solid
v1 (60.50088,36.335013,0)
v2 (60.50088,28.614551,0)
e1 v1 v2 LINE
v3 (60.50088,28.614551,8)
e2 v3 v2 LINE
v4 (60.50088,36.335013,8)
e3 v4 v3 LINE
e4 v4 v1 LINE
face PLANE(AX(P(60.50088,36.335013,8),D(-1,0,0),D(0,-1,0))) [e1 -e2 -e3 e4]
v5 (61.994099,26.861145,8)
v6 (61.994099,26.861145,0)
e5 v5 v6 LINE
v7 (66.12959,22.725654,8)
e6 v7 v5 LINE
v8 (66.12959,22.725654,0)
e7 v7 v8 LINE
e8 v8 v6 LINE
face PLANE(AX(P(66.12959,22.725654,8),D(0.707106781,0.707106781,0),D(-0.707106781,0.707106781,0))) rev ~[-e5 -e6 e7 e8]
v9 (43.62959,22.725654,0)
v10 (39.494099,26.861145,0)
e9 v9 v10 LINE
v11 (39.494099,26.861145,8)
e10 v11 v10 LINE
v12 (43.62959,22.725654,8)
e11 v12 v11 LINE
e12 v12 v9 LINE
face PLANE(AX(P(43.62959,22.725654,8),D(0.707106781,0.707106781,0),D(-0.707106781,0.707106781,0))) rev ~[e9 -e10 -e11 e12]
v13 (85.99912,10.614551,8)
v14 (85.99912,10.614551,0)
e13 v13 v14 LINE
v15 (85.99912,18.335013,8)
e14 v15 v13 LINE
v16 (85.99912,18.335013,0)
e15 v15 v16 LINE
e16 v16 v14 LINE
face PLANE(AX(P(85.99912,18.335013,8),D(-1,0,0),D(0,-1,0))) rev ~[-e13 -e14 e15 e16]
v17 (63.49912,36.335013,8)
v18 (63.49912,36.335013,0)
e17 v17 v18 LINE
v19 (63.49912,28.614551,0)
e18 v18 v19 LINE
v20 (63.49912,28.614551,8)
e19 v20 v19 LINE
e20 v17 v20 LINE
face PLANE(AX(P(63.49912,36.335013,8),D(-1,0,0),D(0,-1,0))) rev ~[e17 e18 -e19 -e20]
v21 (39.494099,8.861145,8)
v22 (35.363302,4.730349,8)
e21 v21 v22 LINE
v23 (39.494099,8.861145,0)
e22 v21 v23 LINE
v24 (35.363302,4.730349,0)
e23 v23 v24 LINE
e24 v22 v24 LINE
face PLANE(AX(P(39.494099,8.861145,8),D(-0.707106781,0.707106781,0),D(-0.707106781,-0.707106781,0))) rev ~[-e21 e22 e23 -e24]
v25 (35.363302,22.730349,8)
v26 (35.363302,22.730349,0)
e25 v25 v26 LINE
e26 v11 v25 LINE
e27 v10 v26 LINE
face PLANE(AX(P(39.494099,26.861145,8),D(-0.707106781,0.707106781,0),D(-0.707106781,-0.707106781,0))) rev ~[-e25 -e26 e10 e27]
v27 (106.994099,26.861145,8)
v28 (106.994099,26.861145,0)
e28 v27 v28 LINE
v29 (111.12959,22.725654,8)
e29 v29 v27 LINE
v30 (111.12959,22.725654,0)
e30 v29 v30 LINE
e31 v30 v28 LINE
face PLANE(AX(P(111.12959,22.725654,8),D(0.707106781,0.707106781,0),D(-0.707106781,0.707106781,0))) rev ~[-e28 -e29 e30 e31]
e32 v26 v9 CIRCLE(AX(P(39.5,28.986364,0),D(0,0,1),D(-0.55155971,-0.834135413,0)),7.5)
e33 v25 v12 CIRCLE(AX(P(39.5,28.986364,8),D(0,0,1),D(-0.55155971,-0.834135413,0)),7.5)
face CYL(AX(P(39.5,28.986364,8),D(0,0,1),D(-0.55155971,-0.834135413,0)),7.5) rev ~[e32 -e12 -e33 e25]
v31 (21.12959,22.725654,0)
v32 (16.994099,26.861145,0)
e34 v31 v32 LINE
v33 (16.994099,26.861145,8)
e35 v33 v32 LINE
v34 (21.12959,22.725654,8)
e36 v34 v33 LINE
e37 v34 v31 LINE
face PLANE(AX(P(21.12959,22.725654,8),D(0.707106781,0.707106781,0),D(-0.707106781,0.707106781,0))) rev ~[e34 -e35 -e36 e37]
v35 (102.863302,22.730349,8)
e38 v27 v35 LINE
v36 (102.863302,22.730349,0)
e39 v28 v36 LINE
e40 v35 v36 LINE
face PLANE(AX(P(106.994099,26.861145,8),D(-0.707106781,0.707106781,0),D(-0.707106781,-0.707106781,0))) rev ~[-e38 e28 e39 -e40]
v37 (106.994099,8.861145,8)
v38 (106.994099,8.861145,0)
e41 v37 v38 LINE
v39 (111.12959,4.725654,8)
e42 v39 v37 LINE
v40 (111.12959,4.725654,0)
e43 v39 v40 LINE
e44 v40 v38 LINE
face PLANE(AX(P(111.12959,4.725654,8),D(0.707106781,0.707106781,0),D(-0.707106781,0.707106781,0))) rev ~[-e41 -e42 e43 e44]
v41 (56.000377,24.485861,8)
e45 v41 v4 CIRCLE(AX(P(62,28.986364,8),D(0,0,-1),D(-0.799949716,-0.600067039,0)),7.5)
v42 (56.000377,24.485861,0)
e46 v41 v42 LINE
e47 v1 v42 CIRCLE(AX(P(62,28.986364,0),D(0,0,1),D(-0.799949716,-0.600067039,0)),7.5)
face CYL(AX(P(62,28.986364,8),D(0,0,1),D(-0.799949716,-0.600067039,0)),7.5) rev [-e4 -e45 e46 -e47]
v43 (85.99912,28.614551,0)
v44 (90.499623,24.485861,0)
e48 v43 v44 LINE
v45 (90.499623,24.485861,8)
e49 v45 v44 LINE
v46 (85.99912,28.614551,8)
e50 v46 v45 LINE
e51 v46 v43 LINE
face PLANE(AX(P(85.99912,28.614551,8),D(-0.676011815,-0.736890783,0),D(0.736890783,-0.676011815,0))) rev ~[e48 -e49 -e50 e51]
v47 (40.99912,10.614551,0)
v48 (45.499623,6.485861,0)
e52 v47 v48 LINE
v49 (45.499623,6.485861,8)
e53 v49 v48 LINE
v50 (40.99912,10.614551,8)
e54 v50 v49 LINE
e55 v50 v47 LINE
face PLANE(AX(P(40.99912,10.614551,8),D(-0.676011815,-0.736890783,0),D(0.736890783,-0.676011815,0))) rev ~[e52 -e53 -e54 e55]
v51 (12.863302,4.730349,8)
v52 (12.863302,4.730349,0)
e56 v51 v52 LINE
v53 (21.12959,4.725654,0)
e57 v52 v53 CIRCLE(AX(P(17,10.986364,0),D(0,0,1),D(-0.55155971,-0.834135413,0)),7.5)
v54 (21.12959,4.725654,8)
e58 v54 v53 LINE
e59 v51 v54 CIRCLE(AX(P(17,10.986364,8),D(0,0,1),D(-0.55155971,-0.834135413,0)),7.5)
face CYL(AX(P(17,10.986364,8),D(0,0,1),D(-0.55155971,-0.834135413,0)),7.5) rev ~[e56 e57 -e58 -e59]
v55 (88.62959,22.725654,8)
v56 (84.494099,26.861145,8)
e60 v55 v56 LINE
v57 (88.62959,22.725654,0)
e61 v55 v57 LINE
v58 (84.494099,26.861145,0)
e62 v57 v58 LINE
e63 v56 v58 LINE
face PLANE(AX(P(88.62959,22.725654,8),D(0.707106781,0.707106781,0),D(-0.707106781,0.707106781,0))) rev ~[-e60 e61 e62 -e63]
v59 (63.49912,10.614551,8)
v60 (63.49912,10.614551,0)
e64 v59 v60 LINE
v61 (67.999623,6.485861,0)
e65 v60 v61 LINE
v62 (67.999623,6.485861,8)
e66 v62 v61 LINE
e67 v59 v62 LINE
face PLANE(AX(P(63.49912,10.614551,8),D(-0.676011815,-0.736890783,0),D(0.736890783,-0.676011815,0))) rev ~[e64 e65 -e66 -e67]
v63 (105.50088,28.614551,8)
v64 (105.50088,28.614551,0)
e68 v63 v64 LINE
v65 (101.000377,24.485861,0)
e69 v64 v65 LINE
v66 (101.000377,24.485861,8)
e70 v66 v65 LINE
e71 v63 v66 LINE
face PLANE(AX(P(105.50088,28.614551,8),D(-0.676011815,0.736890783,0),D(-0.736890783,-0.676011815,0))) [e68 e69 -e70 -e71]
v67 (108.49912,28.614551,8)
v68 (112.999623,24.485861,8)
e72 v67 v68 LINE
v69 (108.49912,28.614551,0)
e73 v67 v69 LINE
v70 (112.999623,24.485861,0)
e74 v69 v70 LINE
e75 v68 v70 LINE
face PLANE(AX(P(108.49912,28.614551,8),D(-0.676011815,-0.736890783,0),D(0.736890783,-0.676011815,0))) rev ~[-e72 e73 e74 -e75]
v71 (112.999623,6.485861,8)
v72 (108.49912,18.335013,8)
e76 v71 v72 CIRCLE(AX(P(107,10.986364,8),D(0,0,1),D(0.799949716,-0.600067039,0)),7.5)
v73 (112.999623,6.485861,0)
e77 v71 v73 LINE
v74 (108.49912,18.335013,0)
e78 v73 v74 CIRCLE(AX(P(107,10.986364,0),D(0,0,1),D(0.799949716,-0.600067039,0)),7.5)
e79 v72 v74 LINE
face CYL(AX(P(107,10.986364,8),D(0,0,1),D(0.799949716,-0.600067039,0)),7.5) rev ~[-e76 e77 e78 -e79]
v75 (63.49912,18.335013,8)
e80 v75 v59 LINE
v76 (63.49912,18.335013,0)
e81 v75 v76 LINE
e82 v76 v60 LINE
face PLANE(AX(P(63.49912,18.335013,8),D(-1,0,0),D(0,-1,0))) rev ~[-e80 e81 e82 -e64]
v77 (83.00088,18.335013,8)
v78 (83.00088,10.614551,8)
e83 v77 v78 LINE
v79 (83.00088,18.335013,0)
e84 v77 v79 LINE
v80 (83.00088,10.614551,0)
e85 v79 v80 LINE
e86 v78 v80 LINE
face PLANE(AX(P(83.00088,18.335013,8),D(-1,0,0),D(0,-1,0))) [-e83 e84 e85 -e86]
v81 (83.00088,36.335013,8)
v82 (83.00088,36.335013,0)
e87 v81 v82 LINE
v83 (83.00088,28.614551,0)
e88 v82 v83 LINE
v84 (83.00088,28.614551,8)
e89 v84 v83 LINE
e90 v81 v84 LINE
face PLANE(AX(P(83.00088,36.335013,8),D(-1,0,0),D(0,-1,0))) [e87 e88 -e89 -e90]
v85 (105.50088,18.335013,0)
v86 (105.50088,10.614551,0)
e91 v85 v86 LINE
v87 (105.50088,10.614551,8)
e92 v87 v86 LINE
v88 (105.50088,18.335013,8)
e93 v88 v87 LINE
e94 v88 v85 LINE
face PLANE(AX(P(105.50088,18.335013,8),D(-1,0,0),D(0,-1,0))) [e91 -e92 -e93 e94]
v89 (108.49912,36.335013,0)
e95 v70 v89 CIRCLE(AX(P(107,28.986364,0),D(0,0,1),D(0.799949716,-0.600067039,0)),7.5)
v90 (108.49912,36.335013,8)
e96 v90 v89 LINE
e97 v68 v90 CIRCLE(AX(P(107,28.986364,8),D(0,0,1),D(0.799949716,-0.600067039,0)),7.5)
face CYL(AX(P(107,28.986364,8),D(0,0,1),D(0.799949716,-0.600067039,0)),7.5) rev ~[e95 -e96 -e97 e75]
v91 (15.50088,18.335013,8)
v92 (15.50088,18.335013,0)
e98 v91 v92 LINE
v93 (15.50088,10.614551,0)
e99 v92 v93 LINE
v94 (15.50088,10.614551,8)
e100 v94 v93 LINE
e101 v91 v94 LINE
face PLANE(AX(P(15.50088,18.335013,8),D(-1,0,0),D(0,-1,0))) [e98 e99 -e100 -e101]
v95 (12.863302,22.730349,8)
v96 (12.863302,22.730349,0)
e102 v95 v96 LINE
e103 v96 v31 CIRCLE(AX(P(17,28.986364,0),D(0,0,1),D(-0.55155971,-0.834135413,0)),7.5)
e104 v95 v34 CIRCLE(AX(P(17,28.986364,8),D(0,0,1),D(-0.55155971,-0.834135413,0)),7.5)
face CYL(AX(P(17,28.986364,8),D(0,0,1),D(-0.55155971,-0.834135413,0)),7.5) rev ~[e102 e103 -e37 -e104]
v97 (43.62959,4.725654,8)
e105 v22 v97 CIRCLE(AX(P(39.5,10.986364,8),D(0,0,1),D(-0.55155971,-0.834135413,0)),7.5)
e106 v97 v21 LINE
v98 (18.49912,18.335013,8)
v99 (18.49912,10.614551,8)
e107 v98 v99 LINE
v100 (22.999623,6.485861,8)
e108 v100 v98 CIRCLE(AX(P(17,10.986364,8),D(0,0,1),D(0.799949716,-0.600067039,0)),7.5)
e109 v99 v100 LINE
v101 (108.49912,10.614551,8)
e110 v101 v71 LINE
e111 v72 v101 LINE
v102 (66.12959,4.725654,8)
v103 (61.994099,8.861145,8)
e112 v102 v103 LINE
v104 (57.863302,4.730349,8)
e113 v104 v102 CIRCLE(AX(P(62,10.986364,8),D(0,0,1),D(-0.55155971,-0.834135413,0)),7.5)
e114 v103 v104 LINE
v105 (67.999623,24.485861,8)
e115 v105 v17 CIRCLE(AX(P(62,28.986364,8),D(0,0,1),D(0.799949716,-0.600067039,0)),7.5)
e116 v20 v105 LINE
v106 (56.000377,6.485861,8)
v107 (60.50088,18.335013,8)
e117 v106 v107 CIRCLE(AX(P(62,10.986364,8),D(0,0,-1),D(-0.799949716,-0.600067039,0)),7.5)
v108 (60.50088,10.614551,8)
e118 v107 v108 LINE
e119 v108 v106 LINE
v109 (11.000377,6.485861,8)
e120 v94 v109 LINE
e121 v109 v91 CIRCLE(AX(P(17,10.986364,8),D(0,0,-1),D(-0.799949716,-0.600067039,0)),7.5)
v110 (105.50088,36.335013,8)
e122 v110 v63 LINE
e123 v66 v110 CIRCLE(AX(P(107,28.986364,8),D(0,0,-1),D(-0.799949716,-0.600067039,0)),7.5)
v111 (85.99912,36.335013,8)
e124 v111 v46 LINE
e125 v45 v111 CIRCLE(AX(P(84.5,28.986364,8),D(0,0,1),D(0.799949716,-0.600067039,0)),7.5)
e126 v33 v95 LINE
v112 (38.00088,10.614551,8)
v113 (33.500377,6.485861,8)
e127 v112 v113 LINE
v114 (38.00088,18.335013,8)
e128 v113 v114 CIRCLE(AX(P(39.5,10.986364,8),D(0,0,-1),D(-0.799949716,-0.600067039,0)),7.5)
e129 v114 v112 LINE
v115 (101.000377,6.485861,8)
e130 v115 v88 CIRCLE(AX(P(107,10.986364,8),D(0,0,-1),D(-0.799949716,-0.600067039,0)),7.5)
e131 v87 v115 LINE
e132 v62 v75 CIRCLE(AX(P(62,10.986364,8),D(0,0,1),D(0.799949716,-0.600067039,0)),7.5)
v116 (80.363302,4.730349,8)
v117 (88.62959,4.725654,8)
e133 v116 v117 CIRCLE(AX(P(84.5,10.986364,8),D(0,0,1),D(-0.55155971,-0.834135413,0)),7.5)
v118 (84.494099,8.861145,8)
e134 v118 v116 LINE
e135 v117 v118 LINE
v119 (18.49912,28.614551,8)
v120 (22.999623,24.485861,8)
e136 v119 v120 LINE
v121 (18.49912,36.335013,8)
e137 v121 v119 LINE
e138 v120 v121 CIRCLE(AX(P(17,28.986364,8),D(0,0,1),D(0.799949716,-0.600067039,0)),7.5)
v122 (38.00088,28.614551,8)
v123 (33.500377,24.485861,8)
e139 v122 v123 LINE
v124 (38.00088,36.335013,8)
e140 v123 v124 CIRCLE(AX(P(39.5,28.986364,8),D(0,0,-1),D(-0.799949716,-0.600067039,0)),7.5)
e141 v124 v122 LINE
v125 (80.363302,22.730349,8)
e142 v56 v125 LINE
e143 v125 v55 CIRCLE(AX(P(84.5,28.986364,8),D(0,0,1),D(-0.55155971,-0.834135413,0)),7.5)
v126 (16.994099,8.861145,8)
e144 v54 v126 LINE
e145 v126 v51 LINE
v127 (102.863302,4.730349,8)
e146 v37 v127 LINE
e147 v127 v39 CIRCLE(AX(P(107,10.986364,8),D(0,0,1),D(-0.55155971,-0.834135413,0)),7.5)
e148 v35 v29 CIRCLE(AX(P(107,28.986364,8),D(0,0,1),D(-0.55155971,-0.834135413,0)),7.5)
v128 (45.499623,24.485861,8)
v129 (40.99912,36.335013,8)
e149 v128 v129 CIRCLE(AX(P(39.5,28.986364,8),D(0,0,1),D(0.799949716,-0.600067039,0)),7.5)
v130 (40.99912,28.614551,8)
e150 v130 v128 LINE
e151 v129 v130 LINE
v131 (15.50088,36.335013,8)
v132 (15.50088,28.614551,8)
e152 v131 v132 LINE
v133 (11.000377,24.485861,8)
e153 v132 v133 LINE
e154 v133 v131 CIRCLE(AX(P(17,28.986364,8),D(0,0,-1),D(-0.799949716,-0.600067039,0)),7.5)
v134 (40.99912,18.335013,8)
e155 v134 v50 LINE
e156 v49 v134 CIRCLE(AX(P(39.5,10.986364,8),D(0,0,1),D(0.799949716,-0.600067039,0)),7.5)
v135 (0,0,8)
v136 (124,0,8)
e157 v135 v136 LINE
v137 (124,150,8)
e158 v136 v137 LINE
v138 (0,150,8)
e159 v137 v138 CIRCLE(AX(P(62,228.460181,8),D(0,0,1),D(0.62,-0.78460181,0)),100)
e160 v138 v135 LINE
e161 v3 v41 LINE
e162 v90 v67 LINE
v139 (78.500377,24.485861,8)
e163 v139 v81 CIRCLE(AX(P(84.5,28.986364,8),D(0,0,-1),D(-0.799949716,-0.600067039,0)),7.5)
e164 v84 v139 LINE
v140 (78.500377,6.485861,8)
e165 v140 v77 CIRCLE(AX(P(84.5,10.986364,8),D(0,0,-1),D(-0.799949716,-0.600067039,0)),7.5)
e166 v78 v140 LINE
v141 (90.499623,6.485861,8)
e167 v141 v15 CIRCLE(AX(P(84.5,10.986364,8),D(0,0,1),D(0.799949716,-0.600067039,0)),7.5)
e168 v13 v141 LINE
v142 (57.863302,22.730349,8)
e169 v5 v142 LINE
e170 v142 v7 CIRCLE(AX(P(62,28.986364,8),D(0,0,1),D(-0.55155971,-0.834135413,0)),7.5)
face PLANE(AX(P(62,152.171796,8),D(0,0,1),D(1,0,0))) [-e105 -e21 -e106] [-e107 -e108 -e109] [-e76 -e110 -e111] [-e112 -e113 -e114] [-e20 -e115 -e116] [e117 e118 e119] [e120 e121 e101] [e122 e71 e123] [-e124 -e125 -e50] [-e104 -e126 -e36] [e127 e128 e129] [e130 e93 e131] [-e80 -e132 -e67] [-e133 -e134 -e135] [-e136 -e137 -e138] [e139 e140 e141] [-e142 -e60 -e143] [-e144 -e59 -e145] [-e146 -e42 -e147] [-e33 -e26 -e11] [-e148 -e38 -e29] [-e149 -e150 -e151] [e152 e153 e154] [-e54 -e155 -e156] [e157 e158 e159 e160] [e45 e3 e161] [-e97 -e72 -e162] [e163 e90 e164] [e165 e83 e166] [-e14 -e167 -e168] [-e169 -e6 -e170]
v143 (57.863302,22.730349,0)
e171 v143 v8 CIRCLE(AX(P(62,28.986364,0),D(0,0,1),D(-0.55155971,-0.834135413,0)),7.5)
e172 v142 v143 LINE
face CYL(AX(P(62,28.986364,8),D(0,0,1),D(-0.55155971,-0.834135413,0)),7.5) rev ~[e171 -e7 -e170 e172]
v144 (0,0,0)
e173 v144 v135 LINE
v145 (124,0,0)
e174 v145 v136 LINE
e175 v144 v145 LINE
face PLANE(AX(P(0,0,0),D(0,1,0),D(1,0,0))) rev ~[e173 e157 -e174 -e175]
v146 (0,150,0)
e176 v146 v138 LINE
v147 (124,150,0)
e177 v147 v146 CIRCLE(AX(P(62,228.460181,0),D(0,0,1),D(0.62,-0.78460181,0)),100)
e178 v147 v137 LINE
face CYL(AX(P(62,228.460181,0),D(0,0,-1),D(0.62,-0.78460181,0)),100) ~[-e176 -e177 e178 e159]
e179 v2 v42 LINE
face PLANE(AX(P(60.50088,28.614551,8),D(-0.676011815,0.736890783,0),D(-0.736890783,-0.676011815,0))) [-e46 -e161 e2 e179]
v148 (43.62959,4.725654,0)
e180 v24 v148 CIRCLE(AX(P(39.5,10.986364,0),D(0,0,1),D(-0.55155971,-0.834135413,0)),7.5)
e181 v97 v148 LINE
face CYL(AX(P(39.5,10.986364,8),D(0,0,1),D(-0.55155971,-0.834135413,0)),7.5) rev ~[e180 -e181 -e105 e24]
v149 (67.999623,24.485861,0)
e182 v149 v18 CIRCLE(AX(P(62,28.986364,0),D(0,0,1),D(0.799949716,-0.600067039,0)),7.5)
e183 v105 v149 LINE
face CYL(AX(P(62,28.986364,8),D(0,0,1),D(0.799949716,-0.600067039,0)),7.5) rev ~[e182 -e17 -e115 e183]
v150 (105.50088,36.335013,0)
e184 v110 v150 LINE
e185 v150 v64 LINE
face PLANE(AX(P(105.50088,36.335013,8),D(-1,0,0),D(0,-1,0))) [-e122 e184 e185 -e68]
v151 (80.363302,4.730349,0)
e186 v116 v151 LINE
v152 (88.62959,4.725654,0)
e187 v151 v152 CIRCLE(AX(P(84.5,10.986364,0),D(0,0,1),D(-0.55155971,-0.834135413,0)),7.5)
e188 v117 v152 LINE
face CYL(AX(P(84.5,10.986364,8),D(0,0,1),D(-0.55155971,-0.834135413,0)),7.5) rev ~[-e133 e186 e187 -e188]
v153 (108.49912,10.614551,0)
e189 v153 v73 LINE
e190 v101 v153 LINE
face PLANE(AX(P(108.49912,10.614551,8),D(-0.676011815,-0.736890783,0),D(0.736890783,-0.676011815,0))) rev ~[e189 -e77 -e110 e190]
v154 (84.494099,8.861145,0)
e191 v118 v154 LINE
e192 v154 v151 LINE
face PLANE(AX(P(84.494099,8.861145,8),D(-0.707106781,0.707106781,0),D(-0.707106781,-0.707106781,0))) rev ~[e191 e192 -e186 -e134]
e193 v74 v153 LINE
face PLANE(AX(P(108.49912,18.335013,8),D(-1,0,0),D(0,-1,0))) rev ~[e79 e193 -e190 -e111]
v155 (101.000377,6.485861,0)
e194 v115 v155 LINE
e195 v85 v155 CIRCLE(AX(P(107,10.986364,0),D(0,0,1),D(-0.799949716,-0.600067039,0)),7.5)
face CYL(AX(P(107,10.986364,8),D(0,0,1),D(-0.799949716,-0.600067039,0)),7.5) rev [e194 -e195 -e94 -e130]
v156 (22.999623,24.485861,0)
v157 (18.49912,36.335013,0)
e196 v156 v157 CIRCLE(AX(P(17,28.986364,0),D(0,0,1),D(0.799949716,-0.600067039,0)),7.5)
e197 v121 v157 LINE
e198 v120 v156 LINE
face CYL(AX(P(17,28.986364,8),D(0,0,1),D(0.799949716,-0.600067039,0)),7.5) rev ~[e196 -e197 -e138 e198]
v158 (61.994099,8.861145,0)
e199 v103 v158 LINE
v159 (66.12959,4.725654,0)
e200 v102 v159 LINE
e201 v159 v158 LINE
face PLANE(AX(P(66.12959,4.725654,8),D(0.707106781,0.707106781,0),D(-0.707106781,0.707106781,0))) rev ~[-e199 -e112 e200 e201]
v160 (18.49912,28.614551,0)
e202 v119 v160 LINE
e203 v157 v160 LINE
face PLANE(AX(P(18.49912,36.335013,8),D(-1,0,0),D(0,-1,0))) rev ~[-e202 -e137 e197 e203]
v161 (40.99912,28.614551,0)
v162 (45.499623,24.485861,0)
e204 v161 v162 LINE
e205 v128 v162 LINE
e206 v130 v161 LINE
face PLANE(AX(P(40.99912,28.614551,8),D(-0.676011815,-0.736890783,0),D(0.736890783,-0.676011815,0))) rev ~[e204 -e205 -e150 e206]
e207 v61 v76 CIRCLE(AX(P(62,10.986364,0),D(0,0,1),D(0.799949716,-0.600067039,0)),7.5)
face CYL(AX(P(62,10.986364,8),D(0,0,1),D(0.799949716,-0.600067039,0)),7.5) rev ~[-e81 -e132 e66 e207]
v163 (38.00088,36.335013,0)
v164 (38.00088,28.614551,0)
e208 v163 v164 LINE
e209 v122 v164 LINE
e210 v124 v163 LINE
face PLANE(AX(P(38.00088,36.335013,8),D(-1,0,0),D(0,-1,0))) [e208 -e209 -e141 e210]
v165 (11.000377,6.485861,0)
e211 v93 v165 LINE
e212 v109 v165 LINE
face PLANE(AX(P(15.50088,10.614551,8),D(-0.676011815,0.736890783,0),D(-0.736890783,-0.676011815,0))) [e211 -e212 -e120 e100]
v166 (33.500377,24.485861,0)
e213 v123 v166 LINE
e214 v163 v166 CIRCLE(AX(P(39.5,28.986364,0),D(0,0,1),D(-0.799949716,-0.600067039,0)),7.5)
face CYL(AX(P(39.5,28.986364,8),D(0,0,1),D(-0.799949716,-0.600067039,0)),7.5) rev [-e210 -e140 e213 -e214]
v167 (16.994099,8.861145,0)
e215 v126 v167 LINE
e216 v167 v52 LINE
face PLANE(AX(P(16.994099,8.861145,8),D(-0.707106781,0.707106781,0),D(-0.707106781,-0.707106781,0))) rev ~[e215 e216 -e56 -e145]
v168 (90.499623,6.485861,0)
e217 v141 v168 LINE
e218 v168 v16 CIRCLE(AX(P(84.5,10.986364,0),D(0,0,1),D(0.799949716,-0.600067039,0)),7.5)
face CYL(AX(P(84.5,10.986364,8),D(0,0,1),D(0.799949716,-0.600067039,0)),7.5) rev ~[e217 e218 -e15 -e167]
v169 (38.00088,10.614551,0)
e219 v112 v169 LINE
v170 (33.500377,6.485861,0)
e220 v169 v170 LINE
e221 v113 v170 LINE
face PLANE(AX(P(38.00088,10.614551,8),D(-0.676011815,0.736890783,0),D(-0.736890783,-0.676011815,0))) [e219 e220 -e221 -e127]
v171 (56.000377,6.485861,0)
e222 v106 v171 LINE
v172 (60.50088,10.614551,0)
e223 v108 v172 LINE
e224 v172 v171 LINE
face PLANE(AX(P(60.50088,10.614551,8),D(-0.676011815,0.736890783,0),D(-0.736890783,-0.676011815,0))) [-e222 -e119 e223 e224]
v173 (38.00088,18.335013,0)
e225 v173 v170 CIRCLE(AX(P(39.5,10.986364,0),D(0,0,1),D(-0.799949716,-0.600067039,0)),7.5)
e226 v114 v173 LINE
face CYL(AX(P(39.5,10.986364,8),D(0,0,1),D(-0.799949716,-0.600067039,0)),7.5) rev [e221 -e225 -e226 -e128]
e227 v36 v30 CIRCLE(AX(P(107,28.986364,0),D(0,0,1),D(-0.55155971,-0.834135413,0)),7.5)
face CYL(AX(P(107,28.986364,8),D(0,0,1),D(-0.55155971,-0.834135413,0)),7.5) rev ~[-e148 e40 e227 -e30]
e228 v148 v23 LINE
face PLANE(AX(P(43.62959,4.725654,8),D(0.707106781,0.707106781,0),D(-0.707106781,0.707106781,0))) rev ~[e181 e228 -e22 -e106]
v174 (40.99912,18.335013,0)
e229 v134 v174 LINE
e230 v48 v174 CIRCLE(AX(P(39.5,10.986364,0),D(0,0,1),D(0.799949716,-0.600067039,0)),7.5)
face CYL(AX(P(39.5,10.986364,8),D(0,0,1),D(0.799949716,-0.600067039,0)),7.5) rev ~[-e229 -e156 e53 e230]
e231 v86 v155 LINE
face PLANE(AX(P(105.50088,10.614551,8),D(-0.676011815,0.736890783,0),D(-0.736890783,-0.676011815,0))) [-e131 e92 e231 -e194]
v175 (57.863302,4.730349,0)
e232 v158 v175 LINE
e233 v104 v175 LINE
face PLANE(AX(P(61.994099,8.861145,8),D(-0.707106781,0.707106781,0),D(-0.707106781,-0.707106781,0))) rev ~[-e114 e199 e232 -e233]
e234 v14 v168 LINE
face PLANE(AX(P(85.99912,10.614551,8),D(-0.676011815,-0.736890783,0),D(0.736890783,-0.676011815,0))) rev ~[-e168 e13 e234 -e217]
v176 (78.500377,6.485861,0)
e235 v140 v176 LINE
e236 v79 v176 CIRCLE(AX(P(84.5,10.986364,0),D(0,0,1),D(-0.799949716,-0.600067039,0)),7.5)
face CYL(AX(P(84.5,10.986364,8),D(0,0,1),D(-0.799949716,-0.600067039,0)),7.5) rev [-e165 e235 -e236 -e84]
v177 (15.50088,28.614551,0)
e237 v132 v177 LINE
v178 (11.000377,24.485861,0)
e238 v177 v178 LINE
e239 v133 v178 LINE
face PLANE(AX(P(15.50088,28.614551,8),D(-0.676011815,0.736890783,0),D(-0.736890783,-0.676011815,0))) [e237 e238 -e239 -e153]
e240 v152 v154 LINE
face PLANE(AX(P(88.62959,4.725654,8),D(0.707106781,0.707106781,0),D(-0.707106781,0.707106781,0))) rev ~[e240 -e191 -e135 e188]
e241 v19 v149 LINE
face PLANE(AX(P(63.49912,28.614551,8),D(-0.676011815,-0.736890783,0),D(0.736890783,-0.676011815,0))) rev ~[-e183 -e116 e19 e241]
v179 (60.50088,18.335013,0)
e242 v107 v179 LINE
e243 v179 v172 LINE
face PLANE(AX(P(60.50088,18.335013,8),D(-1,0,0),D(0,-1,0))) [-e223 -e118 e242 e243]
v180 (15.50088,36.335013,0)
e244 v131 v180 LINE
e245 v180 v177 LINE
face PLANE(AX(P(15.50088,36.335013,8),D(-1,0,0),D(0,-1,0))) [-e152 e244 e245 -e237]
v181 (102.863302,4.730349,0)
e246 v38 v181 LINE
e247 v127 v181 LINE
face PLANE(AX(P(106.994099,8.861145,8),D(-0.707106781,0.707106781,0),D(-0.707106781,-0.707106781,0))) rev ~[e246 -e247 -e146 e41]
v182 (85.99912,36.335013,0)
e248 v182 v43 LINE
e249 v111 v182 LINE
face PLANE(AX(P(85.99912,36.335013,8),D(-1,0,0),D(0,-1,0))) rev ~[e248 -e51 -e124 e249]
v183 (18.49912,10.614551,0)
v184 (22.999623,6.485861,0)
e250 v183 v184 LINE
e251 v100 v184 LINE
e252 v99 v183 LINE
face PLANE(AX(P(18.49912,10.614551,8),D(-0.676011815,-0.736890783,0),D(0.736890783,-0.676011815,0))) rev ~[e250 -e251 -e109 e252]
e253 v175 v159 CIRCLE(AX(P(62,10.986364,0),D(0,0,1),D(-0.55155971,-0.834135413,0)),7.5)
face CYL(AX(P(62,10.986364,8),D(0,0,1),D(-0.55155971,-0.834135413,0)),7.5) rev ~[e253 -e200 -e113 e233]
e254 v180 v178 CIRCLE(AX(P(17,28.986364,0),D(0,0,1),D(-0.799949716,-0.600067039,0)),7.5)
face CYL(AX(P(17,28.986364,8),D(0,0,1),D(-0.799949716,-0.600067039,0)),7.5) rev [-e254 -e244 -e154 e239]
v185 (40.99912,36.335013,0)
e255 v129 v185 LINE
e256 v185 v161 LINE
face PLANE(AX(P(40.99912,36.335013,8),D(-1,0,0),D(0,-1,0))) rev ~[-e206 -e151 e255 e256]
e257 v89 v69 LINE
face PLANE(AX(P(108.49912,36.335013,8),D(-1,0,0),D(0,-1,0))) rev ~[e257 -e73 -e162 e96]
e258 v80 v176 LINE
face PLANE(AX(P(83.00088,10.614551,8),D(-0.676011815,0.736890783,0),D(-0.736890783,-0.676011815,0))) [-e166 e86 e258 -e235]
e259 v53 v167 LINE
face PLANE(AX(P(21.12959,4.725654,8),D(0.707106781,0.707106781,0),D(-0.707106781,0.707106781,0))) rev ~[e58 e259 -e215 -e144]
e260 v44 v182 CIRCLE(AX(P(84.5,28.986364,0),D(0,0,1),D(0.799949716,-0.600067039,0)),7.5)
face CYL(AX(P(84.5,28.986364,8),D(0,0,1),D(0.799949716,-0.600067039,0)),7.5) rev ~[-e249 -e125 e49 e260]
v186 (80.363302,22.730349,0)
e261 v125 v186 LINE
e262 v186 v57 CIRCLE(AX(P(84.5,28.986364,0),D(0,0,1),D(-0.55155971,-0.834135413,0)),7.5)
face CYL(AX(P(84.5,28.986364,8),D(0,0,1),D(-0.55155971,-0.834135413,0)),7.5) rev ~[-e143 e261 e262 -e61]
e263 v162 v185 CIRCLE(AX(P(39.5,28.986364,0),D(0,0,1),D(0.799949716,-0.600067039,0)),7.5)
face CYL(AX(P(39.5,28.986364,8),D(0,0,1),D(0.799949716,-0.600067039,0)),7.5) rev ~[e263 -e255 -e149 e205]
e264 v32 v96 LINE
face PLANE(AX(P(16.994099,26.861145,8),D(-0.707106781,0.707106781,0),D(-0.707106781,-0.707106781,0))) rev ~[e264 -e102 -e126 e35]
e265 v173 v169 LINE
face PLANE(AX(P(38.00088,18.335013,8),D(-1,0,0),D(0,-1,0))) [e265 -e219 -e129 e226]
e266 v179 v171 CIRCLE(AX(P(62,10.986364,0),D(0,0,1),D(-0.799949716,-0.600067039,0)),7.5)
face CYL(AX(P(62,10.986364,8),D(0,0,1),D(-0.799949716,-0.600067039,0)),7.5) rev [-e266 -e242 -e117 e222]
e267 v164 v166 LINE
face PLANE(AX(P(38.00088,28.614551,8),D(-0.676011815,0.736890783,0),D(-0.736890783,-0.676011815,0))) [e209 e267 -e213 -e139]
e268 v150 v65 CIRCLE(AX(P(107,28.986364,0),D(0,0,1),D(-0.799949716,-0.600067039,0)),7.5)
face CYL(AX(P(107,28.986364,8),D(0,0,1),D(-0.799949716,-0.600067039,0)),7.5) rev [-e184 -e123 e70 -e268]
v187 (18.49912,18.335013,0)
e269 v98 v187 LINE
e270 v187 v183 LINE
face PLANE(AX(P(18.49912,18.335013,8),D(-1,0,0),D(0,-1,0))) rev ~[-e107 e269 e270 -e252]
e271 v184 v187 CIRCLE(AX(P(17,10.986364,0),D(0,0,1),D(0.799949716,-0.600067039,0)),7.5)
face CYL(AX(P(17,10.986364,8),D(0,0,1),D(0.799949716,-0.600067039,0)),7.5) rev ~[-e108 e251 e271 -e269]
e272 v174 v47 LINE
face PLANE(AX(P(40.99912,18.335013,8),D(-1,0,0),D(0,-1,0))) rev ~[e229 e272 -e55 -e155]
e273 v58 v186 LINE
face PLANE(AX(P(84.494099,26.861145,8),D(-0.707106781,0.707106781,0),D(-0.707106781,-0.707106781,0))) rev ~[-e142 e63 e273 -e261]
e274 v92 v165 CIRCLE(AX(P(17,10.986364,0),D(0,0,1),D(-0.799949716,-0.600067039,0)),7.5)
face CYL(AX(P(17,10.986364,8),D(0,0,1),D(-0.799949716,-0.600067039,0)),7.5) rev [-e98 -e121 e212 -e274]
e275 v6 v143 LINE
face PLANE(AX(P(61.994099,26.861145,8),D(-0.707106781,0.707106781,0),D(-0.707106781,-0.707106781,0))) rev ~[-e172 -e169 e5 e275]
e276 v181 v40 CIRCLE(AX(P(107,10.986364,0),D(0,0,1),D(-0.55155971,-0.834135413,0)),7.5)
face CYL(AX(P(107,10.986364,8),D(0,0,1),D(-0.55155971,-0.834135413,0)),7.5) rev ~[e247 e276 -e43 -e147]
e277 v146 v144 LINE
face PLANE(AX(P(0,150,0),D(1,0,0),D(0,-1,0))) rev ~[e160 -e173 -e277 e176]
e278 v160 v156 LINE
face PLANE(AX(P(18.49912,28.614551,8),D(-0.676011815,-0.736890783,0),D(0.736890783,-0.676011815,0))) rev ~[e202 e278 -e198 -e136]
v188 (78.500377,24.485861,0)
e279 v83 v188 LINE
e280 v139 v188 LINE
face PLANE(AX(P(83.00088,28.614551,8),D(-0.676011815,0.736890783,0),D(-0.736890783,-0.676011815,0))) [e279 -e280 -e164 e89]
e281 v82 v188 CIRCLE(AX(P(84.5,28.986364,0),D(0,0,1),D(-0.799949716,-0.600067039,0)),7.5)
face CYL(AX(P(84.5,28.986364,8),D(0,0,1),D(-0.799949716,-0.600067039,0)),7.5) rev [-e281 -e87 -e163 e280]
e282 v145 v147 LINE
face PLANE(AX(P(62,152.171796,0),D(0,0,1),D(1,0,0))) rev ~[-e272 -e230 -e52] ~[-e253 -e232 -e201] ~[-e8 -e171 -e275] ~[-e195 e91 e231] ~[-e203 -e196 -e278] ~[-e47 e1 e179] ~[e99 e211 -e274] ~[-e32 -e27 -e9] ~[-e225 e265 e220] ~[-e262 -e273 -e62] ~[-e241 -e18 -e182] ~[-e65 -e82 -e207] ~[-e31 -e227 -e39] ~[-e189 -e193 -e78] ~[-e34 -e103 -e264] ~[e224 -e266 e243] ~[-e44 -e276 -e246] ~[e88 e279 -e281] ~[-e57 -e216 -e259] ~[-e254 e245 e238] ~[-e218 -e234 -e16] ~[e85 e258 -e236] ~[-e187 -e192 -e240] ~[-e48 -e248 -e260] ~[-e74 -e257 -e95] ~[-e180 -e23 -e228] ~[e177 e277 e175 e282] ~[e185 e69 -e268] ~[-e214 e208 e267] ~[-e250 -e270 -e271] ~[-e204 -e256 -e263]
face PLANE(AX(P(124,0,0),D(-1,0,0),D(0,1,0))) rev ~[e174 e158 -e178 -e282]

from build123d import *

# Parameters (mm, degrees)
EXTRUDE_1_DEPTH     = 8
CUT_EXTRUDE_1_DEPTH = 10


with BuildPart() as part:
    # 草图1 → 凸台-拉伸1 (new body)
    with BuildSketch(Plane.XY):
        with BuildLine():
            Line((0, 0), (124, 0))
            Line((124, 0), (124, 150))
            ThreePointArc((124, 150), (62, 328.460180984), (0, 150))
            Line((0, 150), (0, 0))
        make_face()
    extrude(amount=EXTRUDE_1_DEPTH)

    # 草图2 → 切除-拉伸1 (cut)
    with BuildSketch(Plane.XY.offset(8)):
        with BuildLine():
            Line((38.000879916, 18.335012989), (38.000879916, 10.614550667))
            Line((38.000879916, 10.614550667), (33.500377126, 6.485861413))
            ThreePointArc((33.500377126, 6.485861413), (32.48869593, 13.649372886), (38.000879916, 18.335012989))
        make_face()
        with BuildLine():
            Line((40.999120084, 18.335012989), (40.999120084, 10.614550667))
            Line((40.999120084, 10.614550667), (45.499622874, 6.485861413))
            ThreePointArc((45.499622874, 6.485861413), (46.51130407, 13.649372886), (40.999120084, 18.335012989))
        make_face()
        with BuildLine():
            Line((43.629589922, 4.725654413), (39.494098953, 8.861145382))
            Line((39.494098953, 8.861145382), (35.363302178, 4.730348608))
            ThreePointArc((35.363302178, 4.730348608), (39.495740959, 3.486365412), (43.629589922, 4.725654413))
        make_face()
        with BuildLine():
            Line((60.500879916, 18.335012989), (60.500879916, 10.614550667))
            Line((60.500879916, 10.614550667), (56.000377126, 6.485861413))
            ThreePointArc((56.000377126, 6.485861413), (54.98869593, 13.649372886), (60.500879916, 18.335012989))
        make_face()
        with BuildLine():
            Line((63.499120084, 18.335012989), (63.499120084, 10.614550667))
            Line((63.499120084, 10.614550667), (67.999622874, 6.485861413))
            ThreePointArc((67.999622874, 6.485861413), (69.01130407, 13.649372886), (63.499120084, 18.335012989))
        make_face()
        with BuildLine():
            Line((66.129589922, 4.725654413), (61.994098953, 8.861145382))
            Line((61.994098953, 8.861145382), (57.863302178, 4.730348608))
            ThreePointArc((57.863302178, 4.730348608), (61.995740959, 3.486365412), (66.129589922, 4.725654413))
        make_face()
        with BuildLine():
            Line((83.000879916, 18.335012989), (83.000879916, 10.614550667))
            Line((83.000879916, 10.614550667), (78.500377126, 6.485861413))
            ThreePointArc((78.500377126, 6.485861413), (77.48869593, 13.649372886), (83.000879916, 18.335012989))
        make_face()
        with BuildLine():
            Line((85.999120084, 18.335012989), (85.999120084, 10.614550667))
            Line((85.999120084, 10.614550667), (90.499622874, 6.485861413))
            ThreePointArc((90.499622874, 6.485861413), (91.51130407, 13.649372886), (85.999120084, 18.335012989))
        make_face()
        with BuildLine():
            Line((88.629589922, 4.725654413), (84.494098953, 8.861145382))
            Line((84.494098953, 8.861145382), (80.363302178, 4.730348608))
            ThreePointArc((80.363302178, 4.730348608), (84.495740959, 3.486365412), (88.629589922, 4.725654413))
        make_face()
        with BuildLine():
            Line((105.500879916, 18.335012989), (105.500879916, 10.614550667))
            Line((105.500879916, 10.614550667), (101.000377126, 6.485861413))
            ThreePointArc((101.000377126, 6.485861413), (99.98869593, 13.649372886), (105.500879916, 18.335012989))
        make_face()
        with BuildLine():
            Line((108.499120084, 18.335012989), (108.499120084, 10.614550667))
            Line((108.499120084, 10.614550667), (112.999622874, 6.485861413))
            ThreePointArc((112.999622874, 6.485861413), (114.01130407, 13.649372886), (108.499120084, 18.335012989))
        make_face()
        with BuildLine():
            Line((111.129589922, 4.725654413), (106.994098953, 8.861145382))
            Line((106.994098953, 8.861145382), (102.863302178, 4.730348608))
            ThreePointArc((102.863302178, 4.730348608), (106.995740959, 3.486365412), (111.129589922, 4.725654413))
        make_face()
        with BuildLine():
            Line((38.000879916, 36.335012989), (38.000879916, 28.614550667))
            Line((38.000879916, 28.614550667), (33.500377126, 24.485861413))
            ThreePointArc((33.500377126, 24.485861413), (32.48869593, 31.649372886), (38.000879916, 36.335012989))
        make_face()
        with BuildLine():
            Line((40.999120084, 36.335012989), (40.999120084, 28.614550667))
            Line((40.999120084, 28.614550667), (45.499622874, 24.485861413))
            ThreePointArc((45.499622874, 24.485861413), (46.51130407, 31.649372886), (40.999120084, 36.335012989))
        make_face()
        with BuildLine():
            Line((15.500879916, 18.335012989), (15.500879916, 10.614550667))
            Line((15.500879916, 10.614550667), (11.000377126, 6.485861413))
            ThreePointArc((11.000377126, 6.485861413), (9.98869593, 13.649372886), (15.500879916, 18.335012989))
        make_face()
        with BuildLine():
            Line((18.499120084, 18.335012989), (18.499120084, 10.614550667))
            Line((18.499120084, 10.614550667), (22.999622874, 6.485861413))
            ThreePointArc((22.999622874, 6.485861413), (24.01130407, 13.649372886), (18.499120084, 18.335012989))
        make_face()
        with BuildLine():
            Line((21.129589922, 4.725654413), (16.994098953, 8.861145382))
            Line((16.994098953, 8.861145382), (12.863302178, 4.730348608))
            ThreePointArc((12.863302178, 4.730348608), (16.995740959, 3.486365412), (21.129589922, 4.725654413))
        make_face()
        with BuildLine():
            Line((43.629589922, 22.725654413), (39.494098953, 26.861145382))
            Line((39.494098953, 26.861145382), (35.363302178, 22.730348608))
            ThreePointArc((35.363302178, 22.730348608), (39.495740959, 21.486365412), (43.629589922, 22.725654413))
        make_face()
        with BuildLine():
            Line((60.500879916, 36.335012989), (60.500879916, 28.614550667))
            Line((60.500879916, 28.614550667), (56.000377126, 24.485861413))
            ThreePointArc((56.000377126, 24.485861413), (54.98869593, 31.649372886), (60.500879916, 36.335012989))
        make_face()
        with BuildLine():
            Line((63.499120084, 36.335012989), (63.499120084, 28.614550667))
            Line((63.499120084, 28.614550667), (67.999622874, 24.485861413))
            ThreePointArc((67.999622874, 24.485861413), (69.01130407, 31.649372886), (63.499120084, 36.335012989))
        make_face()
        with BuildLine():
            Line((66.129589922, 22.725654413), (61.994098953, 26.861145382))
            Line((61.994098953, 26.861145382), (57.863302178, 22.730348608))
            ThreePointArc((57.863302178, 22.730348608), (61.995740959, 21.486365412), (66.129589922, 22.725654413))
        make_face()
        with BuildLine():
            Line((83.000879916, 36.335012989), (83.000879916, 28.614550667))
            Line((83.000879916, 28.614550667), (78.500377126, 24.485861413))
            ThreePointArc((78.500377126, 24.485861413), (77.48869593, 31.649372886), (83.000879916, 36.335012989))
        make_face()
        with BuildLine():
            Line((85.999120084, 36.335012989), (85.999120084, 28.614550667))
            Line((85.999120084, 28.614550667), (90.499622874, 24.485861413))
            ThreePointArc((90.499622874, 24.485861413), (91.51130407, 31.649372886), (85.999120084, 36.335012989))
        make_face()
        with BuildLine():
            Line((88.629589922, 22.725654413), (84.494098953, 26.861145382))
            Line((84.494098953, 26.861145382), (80.363302178, 22.730348608))
            ThreePointArc((80.363302178, 22.730348608), (84.495740959, 21.486365412), (88.629589922, 22.725654413))
        make_face()
        with BuildLine():
            Line((105.500879916, 36.335012989), (105.500879916, 28.614550667))
            Line((105.500879916, 28.614550667), (101.000377126, 24.485861413))
            ThreePointArc((101.000377126, 24.485861413), (99.98869593, 31.649372886), (105.500879916, 36.335012989))
        make_face()
        with BuildLine():
            Line((108.499120084, 36.335012989), (108.499120084, 28.614550667))
            Line((108.499120084, 28.614550667), (112.999622874, 24.485861413))
            ThreePointArc((112.999622874, 24.485861413), (114.01130407, 31.649372886), (108.499120084, 36.335012989))
        make_face()
        with BuildLine():
            Line((111.129589922, 22.725654413), (106.994098953, 26.861145382))
            Line((106.994098953, 26.861145382), (102.863302178, 22.730348608))
            ThreePointArc((102.863302178, 22.730348608), (106.995740959, 21.486365412), (111.129589922, 22.725654413))
        make_face()
        with BuildLine():
            Line((15.500879916, 36.335012989), (15.500879916, 28.614550667))
            Line((15.500879916, 28.614550667), (11.000377126, 24.485861413))
            ThreePointArc((11.000377126, 24.485861413), (9.98869593, 31.649372886), (15.500879916, 36.335012989))
        make_face()
        with BuildLine():
            Line((18.499120084, 36.335012989), (18.499120084, 28.614550667))
            Line((18.499120084, 28.614550667), (22.999622874, 24.485861413))
            ThreePointArc((22.999622874, 24.485861413), (24.01130407, 31.649372886), (18.499120084, 36.335012989))
        make_face()
        with BuildLine():
            Line((21.129589922, 22.725654413), (16.994098953, 26.861145382))
            Line((16.994098953, 26.861145382), (12.863302178, 22.730348608))
            ThreePointArc((12.863302178, 22.730348608), (16.995740959, 21.486365412), (21.129589922, 22.725654413))
        make_face()
    extrude(amount=-CUT_EXTRUDE_1_DEPTH, mode=Mode.SUBTRACT)


solid = part.part
